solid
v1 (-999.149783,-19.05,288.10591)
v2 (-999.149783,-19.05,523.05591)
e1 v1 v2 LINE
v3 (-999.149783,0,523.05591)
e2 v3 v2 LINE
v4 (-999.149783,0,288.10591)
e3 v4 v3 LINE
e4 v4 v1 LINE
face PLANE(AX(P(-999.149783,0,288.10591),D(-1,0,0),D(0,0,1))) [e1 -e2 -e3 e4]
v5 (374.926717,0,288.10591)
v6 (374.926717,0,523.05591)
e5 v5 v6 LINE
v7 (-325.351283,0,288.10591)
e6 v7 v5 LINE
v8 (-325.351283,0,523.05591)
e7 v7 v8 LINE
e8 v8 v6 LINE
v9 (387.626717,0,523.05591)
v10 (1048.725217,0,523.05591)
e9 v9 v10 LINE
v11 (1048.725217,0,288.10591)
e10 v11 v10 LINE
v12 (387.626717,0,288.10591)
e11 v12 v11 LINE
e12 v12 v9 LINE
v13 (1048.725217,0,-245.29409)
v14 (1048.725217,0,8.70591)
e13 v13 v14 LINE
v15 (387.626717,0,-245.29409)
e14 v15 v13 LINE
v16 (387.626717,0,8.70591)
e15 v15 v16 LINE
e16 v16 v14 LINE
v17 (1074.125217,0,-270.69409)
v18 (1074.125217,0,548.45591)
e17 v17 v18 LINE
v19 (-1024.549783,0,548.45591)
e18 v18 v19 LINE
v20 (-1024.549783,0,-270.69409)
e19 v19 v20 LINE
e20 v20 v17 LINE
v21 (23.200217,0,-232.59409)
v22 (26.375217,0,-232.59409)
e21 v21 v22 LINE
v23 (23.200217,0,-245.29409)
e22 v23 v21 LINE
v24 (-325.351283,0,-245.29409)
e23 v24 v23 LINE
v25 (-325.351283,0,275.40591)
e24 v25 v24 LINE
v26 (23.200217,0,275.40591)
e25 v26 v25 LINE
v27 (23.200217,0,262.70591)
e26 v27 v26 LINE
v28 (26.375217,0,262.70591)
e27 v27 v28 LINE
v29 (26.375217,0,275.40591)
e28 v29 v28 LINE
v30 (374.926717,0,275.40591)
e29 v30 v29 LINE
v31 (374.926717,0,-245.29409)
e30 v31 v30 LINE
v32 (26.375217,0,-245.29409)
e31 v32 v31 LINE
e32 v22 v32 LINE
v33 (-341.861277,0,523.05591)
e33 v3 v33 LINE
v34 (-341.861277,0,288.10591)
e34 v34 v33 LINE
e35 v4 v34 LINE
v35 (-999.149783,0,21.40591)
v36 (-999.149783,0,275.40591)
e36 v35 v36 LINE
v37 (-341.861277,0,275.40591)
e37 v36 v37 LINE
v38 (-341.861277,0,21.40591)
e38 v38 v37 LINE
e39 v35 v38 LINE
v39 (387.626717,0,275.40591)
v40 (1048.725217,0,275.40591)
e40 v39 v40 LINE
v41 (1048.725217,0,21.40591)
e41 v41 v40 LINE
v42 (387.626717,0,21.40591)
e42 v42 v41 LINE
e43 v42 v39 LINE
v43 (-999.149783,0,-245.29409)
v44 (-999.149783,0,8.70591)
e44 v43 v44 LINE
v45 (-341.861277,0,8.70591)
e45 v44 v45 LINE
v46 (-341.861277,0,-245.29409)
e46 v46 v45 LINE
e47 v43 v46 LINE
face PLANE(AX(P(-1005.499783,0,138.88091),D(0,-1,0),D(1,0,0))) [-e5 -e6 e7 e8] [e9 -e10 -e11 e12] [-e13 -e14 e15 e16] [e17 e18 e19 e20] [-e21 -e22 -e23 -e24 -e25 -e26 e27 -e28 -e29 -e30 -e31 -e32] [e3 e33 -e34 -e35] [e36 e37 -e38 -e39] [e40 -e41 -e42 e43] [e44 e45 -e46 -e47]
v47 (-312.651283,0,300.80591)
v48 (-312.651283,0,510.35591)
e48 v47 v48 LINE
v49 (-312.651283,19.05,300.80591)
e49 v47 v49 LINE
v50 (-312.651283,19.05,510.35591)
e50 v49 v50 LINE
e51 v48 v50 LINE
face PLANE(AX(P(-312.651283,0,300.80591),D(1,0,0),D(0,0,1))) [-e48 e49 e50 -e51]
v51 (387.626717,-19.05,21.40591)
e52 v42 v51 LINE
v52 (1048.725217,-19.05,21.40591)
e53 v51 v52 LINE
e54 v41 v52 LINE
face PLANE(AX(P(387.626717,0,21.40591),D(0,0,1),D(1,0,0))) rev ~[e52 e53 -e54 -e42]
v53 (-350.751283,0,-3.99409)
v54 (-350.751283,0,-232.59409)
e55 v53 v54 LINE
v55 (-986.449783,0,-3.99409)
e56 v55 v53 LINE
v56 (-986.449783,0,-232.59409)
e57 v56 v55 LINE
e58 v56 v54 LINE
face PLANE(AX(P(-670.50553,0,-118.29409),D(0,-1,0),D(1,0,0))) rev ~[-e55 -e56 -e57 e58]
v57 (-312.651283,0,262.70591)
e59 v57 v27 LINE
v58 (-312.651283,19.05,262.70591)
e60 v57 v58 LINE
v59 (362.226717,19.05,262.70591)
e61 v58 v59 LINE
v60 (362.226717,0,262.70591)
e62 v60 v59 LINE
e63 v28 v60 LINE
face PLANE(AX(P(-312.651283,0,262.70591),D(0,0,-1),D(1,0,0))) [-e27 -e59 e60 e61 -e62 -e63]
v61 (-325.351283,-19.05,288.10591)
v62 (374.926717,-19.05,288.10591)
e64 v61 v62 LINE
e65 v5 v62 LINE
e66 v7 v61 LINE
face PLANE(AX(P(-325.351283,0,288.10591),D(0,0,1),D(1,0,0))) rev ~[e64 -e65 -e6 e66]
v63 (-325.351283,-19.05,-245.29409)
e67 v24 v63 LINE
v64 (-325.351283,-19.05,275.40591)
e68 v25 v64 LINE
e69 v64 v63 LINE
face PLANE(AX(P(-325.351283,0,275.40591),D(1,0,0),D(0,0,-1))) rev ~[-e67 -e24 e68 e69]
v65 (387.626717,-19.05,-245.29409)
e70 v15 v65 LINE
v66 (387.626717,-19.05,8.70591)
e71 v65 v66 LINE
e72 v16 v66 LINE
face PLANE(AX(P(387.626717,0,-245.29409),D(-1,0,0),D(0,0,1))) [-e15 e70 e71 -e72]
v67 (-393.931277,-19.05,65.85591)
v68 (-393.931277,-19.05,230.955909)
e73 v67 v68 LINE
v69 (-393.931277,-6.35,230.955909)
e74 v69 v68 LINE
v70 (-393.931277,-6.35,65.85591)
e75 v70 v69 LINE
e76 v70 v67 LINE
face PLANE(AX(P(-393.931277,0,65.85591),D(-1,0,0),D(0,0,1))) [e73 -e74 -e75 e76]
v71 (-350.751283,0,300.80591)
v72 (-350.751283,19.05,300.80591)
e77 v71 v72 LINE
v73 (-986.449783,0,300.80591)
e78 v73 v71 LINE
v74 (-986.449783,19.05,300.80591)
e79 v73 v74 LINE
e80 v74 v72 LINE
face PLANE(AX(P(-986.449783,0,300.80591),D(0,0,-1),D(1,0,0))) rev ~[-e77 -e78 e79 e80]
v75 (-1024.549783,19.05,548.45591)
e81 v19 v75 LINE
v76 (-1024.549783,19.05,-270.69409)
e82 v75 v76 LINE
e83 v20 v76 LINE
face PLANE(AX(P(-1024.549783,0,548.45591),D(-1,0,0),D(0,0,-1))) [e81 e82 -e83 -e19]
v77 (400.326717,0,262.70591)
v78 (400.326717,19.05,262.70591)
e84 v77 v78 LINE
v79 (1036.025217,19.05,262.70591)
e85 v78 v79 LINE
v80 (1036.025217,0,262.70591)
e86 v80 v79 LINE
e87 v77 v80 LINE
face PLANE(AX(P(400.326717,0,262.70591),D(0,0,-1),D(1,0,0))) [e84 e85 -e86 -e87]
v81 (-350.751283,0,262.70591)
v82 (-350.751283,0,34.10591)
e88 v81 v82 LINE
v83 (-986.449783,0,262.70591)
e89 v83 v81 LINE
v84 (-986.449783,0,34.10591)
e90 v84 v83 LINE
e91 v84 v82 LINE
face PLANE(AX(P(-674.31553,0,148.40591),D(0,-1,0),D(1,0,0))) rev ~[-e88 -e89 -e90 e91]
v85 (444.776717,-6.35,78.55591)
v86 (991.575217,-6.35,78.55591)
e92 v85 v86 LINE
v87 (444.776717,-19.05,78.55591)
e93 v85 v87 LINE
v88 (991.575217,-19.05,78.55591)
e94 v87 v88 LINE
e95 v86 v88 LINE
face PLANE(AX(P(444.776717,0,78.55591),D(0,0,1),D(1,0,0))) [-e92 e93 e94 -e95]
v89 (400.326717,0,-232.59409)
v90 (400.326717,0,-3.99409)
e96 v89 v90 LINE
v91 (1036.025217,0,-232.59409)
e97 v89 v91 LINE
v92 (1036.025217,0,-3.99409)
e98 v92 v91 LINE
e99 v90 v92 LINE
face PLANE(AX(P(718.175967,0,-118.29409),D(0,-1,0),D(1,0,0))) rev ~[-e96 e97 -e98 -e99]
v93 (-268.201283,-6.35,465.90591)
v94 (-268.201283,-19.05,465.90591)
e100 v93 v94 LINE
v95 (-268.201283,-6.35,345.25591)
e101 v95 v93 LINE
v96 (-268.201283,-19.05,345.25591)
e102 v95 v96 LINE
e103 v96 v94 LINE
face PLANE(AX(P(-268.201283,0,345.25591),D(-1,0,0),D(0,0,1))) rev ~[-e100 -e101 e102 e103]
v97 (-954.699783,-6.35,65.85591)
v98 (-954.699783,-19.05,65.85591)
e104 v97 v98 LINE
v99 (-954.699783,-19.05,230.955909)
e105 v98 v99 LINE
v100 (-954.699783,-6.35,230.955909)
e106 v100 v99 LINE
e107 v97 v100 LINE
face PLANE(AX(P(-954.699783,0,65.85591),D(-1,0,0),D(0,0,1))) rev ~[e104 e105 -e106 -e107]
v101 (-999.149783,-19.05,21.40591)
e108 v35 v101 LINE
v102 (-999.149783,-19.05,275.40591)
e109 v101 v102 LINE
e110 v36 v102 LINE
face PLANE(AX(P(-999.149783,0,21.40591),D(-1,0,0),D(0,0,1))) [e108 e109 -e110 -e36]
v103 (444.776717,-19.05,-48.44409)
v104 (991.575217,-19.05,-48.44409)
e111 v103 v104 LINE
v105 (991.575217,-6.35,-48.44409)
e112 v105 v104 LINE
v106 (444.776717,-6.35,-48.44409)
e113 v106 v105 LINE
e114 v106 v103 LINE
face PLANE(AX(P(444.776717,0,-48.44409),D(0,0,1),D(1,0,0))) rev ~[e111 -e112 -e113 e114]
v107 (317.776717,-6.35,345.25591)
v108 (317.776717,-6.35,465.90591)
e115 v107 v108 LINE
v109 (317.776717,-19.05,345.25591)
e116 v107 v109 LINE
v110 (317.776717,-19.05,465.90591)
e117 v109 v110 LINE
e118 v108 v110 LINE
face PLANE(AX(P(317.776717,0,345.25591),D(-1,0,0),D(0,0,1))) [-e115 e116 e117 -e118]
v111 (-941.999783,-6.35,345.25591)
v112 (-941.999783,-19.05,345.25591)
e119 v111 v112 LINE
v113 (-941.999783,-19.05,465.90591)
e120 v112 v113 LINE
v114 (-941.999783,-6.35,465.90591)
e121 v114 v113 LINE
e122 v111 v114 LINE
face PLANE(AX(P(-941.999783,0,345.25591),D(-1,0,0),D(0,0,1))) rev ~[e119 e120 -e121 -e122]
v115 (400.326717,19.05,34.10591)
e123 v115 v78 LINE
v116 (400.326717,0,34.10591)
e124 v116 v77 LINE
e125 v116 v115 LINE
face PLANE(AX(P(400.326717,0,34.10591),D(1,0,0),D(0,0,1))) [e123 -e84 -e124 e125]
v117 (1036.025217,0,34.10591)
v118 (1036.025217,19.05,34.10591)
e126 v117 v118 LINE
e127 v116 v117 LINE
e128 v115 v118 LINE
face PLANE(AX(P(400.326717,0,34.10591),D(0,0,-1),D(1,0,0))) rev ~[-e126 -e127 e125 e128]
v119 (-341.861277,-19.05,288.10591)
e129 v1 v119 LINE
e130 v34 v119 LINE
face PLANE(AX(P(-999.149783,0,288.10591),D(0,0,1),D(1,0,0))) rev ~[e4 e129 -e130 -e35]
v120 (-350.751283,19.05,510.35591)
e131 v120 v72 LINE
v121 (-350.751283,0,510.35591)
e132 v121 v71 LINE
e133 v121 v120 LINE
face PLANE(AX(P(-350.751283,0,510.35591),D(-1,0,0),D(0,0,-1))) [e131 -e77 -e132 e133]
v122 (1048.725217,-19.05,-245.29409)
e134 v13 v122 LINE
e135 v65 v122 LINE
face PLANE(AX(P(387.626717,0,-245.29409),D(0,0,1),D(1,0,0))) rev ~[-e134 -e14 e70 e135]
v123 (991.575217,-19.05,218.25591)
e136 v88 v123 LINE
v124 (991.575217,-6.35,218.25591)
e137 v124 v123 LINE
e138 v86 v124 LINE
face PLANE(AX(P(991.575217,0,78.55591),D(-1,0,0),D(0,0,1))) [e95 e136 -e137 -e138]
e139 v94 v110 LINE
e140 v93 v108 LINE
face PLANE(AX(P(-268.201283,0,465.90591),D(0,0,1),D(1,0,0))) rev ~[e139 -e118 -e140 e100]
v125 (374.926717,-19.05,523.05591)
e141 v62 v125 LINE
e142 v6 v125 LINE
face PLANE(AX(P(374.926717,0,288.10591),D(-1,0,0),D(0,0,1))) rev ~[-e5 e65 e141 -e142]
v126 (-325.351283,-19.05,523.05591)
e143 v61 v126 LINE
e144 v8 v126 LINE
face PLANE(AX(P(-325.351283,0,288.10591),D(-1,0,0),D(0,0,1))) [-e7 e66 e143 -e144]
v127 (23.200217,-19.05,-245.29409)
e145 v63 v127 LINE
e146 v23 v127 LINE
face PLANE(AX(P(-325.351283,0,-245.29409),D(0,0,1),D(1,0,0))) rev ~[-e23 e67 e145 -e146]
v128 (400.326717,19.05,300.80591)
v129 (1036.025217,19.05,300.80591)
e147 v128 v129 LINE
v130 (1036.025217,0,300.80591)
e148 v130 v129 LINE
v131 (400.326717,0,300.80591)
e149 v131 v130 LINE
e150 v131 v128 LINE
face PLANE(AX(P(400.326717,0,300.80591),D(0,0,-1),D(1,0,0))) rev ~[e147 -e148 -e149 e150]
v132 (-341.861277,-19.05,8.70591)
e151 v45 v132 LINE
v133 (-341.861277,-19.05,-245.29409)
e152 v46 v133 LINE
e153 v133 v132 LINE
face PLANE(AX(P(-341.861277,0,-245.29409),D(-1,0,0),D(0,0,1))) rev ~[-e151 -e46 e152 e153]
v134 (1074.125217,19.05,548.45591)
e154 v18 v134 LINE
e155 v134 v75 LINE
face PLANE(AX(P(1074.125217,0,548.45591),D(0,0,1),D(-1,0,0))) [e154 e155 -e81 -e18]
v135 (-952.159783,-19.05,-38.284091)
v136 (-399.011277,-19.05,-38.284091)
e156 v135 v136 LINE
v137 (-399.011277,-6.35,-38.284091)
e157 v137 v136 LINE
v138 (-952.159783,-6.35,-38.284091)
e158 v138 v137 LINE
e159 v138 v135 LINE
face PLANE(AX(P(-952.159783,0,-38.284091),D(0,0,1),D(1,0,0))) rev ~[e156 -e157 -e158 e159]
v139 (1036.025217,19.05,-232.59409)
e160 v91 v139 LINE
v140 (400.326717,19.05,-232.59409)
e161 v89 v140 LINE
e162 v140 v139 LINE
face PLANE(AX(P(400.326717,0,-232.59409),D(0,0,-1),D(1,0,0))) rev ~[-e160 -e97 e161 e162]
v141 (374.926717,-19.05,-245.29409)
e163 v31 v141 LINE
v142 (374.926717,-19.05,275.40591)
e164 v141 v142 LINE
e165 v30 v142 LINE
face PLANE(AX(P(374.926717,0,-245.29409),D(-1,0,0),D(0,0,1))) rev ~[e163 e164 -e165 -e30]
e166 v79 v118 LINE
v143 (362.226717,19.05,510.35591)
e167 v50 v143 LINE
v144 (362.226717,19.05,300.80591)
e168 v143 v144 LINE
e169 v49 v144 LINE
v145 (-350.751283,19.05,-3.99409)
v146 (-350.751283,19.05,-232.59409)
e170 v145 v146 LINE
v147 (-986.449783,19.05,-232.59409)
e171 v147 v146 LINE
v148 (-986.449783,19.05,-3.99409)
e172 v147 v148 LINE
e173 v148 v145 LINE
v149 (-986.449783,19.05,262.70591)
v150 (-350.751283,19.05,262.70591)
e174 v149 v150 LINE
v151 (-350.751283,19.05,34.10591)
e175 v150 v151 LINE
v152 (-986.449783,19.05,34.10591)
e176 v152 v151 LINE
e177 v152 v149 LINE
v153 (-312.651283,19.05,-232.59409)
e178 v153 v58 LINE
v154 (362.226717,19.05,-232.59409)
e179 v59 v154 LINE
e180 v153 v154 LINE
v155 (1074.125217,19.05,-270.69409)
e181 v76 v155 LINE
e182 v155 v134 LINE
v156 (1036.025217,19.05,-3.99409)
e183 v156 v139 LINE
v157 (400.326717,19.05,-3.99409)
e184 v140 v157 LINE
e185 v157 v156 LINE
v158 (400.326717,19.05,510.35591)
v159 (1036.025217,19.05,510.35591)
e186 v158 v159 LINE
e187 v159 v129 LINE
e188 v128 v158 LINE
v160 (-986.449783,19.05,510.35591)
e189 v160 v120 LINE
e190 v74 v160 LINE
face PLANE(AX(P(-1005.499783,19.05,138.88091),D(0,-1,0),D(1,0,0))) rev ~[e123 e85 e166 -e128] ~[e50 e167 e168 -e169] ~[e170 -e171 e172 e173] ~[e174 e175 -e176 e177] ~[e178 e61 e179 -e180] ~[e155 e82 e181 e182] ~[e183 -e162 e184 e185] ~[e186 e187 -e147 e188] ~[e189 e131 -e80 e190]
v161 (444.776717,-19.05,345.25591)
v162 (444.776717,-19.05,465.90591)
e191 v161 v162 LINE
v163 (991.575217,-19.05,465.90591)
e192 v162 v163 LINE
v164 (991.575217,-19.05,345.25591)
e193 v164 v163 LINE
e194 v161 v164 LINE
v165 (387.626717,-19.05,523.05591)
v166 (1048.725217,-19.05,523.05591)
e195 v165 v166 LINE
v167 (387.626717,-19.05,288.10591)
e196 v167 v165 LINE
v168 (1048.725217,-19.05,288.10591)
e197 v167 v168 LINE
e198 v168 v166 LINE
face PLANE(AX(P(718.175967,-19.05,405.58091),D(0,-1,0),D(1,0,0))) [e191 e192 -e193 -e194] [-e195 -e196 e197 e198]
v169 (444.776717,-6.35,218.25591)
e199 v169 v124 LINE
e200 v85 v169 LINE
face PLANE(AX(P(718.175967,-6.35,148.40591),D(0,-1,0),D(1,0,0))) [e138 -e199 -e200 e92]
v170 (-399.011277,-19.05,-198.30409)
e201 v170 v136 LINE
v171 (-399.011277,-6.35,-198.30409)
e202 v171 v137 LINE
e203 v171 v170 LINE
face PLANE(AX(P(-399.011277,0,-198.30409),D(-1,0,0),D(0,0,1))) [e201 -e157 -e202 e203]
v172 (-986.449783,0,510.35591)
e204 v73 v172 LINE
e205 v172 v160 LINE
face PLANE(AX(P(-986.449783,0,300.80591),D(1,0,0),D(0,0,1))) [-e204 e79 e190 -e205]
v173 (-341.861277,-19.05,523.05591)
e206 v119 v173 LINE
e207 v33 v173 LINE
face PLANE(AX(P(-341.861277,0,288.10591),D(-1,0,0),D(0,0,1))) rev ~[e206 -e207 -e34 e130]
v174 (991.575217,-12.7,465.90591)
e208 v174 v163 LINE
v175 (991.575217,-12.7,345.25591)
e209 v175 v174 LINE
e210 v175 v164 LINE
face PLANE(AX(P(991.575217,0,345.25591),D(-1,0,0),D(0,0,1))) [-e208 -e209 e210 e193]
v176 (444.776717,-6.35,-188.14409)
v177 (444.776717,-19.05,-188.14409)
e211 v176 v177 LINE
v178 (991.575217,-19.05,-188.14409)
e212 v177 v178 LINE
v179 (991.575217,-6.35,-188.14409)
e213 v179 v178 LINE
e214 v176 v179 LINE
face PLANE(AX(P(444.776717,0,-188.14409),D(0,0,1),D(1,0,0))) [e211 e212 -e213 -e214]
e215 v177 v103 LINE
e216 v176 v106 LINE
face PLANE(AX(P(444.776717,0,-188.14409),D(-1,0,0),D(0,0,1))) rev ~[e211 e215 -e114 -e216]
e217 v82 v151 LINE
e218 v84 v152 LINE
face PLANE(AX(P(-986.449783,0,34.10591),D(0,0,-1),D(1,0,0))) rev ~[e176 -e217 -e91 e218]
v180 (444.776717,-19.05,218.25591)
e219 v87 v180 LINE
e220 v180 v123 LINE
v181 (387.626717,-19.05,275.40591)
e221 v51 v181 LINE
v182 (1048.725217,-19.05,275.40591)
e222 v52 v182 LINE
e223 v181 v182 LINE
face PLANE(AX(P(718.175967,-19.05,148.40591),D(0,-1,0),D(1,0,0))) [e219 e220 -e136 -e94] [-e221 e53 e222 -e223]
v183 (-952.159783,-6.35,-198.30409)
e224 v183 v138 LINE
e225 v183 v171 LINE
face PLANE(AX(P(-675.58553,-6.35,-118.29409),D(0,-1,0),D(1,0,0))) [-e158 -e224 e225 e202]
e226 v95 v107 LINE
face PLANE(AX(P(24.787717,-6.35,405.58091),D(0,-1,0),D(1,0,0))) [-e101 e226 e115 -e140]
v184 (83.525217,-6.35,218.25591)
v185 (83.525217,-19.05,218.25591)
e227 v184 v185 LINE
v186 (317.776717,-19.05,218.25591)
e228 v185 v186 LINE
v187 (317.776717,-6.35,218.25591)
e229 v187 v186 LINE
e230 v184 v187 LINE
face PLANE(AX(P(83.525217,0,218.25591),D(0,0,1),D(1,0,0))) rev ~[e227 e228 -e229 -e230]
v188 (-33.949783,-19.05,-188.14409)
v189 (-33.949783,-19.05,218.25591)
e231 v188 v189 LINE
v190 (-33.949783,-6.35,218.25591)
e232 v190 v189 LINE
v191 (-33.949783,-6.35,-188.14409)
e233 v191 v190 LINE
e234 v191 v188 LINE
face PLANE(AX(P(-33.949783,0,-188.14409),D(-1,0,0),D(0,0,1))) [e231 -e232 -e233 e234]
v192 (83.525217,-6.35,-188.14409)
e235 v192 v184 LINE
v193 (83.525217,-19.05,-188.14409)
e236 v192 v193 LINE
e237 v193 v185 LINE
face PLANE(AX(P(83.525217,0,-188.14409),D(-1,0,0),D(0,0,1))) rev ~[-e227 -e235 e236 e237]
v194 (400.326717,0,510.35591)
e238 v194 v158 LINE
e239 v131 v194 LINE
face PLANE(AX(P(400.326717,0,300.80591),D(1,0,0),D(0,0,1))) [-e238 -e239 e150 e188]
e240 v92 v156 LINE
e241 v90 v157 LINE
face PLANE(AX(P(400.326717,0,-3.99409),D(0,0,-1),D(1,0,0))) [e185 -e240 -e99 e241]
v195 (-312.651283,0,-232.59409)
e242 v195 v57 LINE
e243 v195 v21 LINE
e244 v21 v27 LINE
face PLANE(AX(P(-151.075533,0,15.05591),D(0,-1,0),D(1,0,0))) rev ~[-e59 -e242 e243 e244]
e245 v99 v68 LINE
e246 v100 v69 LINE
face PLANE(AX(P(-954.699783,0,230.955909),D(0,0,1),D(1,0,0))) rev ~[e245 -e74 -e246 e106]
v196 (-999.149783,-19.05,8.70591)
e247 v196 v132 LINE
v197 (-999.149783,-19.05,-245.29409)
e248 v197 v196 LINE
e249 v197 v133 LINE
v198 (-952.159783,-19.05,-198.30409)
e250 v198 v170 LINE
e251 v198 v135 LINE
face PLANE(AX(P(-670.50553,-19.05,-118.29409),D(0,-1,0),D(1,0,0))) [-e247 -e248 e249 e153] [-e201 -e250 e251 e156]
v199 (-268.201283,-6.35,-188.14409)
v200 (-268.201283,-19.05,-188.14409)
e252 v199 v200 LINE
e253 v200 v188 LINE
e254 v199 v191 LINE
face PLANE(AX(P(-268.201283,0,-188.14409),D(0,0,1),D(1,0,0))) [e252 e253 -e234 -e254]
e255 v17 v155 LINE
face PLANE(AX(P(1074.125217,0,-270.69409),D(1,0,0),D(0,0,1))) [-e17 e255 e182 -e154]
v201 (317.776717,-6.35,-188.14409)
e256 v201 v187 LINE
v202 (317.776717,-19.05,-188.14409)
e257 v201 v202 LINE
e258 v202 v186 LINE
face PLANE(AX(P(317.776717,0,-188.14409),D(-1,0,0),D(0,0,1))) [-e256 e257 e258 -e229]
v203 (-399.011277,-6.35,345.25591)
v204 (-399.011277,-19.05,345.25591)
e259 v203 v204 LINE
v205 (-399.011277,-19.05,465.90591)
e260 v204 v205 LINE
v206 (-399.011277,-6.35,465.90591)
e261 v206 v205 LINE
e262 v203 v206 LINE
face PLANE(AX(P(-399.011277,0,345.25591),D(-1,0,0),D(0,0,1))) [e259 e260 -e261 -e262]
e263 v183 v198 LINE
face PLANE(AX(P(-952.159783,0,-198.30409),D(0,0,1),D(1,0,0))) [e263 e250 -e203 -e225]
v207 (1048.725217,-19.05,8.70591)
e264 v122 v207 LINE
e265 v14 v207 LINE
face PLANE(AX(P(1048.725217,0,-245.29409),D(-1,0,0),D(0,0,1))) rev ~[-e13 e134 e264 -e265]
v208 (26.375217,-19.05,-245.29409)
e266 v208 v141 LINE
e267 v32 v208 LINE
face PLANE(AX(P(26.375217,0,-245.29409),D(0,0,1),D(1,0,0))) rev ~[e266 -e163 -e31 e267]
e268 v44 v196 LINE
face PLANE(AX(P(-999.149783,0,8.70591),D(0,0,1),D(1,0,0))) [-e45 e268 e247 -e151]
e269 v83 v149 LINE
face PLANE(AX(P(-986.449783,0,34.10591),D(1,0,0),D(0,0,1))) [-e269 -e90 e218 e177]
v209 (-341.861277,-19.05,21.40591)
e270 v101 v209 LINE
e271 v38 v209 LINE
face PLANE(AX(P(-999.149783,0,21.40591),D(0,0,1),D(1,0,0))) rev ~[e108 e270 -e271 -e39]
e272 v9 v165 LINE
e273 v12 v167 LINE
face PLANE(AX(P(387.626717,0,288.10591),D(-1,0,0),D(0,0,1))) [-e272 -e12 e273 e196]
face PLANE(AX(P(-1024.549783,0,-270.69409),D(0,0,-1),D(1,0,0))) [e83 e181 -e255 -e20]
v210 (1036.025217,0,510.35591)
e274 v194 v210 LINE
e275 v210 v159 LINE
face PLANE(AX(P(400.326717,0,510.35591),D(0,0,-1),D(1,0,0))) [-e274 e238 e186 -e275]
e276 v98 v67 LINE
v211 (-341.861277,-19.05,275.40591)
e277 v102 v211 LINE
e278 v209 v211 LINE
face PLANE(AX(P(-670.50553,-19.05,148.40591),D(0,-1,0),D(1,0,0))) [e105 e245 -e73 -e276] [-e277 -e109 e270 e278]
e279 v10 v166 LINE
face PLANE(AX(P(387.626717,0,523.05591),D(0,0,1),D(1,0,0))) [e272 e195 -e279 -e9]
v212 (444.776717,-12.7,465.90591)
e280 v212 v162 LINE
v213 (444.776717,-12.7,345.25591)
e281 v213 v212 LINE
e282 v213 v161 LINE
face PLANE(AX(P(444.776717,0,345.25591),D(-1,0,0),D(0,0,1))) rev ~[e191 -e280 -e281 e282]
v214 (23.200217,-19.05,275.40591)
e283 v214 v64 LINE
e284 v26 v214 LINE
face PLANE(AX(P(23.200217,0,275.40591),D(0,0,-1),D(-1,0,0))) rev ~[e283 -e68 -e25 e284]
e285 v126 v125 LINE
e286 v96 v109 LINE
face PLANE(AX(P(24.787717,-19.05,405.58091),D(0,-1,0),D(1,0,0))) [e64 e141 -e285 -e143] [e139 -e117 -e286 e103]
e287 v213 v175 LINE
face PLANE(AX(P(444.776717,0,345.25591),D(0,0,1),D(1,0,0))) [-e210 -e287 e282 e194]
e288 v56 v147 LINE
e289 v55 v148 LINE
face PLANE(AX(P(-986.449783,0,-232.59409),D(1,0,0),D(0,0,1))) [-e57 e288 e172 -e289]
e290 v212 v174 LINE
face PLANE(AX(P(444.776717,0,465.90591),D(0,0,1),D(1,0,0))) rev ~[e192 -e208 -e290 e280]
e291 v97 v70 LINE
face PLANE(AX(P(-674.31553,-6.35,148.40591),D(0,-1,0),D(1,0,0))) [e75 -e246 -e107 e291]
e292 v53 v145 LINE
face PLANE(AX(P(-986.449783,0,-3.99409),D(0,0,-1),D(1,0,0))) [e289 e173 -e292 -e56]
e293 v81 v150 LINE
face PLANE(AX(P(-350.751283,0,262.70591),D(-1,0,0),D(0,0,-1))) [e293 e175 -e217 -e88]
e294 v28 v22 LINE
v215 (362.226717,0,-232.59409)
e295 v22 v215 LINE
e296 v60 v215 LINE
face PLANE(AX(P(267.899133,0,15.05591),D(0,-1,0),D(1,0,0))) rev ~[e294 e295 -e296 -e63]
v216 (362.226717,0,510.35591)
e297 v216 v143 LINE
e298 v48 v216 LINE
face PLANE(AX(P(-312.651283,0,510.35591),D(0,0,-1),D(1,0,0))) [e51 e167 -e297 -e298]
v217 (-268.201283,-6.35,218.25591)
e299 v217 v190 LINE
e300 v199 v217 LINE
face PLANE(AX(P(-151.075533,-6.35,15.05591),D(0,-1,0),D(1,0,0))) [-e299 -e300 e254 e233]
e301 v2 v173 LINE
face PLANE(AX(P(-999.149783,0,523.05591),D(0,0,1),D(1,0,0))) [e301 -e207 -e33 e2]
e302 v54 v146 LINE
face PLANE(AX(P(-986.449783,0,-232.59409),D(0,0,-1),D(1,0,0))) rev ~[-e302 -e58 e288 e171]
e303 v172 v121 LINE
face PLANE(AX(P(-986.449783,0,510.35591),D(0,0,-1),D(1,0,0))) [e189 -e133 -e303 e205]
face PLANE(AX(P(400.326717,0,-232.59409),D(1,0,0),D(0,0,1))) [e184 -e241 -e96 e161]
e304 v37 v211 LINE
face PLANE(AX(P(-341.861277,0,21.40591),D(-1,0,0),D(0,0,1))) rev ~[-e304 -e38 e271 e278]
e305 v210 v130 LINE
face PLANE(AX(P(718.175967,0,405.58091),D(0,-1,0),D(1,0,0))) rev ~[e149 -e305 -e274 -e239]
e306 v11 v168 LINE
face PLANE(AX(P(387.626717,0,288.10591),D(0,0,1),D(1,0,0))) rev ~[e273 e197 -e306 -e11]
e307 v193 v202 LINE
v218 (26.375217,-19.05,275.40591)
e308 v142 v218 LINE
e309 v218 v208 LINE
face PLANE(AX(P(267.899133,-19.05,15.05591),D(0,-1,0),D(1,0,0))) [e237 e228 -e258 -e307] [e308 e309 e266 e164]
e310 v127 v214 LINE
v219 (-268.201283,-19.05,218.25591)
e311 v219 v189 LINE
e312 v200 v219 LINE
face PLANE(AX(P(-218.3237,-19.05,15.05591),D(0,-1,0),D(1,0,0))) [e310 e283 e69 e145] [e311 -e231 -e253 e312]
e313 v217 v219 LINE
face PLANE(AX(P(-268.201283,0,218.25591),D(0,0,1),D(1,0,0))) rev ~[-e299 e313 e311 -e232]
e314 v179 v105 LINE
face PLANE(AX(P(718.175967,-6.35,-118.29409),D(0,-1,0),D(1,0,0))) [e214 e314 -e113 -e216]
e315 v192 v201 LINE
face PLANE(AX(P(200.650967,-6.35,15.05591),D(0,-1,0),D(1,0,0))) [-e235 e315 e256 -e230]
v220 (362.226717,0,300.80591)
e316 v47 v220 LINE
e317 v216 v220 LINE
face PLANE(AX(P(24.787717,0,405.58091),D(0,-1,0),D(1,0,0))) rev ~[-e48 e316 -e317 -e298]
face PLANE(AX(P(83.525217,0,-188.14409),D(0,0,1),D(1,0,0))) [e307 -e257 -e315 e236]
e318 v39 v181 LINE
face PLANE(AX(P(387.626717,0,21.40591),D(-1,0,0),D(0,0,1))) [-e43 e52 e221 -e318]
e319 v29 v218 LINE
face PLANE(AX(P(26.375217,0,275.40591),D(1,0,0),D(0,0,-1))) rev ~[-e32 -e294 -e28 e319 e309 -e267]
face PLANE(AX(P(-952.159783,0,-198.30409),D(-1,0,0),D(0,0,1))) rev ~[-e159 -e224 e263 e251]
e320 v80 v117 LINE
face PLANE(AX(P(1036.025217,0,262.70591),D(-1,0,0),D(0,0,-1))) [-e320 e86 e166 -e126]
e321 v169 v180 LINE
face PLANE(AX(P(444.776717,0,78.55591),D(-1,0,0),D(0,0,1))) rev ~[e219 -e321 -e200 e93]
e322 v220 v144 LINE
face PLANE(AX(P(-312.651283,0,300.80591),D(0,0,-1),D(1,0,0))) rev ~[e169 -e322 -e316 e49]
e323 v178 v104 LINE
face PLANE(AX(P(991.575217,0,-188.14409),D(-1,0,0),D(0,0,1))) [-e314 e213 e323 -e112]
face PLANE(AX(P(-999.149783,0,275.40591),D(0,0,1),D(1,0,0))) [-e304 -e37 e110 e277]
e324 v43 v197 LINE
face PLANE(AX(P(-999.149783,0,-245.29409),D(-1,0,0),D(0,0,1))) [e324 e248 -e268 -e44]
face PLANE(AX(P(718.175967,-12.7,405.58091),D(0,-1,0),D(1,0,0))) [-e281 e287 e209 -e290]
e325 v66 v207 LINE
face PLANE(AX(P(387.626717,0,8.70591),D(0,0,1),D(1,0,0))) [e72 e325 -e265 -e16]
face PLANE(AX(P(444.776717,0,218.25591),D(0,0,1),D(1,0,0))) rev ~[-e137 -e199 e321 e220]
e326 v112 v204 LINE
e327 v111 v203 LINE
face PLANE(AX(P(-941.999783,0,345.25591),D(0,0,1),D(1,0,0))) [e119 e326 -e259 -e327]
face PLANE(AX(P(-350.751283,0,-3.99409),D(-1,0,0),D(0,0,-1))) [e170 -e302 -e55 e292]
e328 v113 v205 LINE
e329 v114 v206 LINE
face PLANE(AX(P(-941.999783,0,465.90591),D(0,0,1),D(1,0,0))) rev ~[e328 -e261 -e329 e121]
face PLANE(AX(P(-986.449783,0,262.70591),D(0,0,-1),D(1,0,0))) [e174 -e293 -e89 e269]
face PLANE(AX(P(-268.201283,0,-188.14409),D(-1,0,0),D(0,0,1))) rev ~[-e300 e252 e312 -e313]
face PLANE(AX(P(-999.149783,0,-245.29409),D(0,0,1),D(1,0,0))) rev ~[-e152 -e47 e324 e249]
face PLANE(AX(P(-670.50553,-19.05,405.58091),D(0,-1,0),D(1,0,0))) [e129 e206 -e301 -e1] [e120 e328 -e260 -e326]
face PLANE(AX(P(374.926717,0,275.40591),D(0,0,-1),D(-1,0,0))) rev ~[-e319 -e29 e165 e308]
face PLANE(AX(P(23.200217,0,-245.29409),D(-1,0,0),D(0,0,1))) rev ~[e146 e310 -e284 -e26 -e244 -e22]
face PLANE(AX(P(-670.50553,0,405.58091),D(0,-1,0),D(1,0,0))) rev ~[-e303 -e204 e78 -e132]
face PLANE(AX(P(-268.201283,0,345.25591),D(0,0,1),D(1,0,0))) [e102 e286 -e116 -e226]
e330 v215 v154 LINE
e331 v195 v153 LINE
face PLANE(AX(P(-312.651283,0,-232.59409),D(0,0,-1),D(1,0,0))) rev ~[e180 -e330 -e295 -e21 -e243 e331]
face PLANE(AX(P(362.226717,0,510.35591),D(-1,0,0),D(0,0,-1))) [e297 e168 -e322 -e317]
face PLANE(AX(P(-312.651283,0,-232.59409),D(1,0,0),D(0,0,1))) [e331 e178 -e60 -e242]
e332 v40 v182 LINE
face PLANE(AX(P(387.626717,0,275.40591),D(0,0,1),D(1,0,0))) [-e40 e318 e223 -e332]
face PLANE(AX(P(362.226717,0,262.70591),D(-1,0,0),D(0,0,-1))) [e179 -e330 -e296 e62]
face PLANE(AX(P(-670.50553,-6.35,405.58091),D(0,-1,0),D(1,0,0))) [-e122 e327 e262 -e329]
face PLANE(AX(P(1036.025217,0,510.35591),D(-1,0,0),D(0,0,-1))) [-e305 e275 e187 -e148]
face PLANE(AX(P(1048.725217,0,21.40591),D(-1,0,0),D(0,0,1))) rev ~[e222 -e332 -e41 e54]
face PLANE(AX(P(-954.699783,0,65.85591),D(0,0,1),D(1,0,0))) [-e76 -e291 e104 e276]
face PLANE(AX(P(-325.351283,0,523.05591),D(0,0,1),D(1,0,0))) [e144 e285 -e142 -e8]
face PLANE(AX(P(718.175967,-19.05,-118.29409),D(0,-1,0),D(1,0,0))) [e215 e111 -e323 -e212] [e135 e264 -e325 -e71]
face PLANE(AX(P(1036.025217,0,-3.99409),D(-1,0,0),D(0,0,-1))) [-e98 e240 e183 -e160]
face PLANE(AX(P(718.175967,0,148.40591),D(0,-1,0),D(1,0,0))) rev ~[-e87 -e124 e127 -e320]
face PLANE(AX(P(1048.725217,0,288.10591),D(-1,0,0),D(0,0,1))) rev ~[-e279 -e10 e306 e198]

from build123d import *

# Parameters (mm, degrees)
F0_W      = 635.6985
F0_H      = 38.1
F0_W_2    = 674.878
F1_DEPTH  = 19.05
F2_W      = 657.2885064902
F2_H      = 254
F2_W_2    = 553.1485062082
F2_H_2    = 160.0199994359
F3_DEPTH  = 19.05
F2_W_3    = 560.7685060475
F2_H_3    = 165.0999991145
F4_DEPTH  = 19.05
F2_H_4    = 234.95
F2_W_4    = 542.9885064902
F2_H_5    = 120.65
F5_DEPTH  = 19.05
F6_DEPTH  = 6.35
F2_W_5    = 700.278
F2_W_6    = 585.978
F7_DEPTH  = 19.05
F8_DEPTH  = 6.35
F9_DEPTH  = 6.35
F2_W_7    = 335.8515
F2_H_6    = 495.3
F2_W_8    = 234.2515
F2_H_7    = 406.4
F10_DEPTH = 19.05
F11_DEPTH = 6.35
F2_W_9    = 661.0985
F2_W_10   = 546.7985
F2_H_8    = 139.7
F12_DEPTH = 19.05
F13_DEPTH = 12.7
F14_DEPTH = 6.35
F15_DEPTH = 6.35
F16_DEPTH = 6.35


with BuildPart() as f1:
    # F0 (on Front) → F1 (new body)
    with BuildSketch(Plane.XZ):
        Polygon((-986.4497834325, 548.455909781), (-1024.5497834325, 548.455909781), (-1024.5497834325, -270.694090219), (-986.4497834325, -270.694090219), (-986.4497834325, -232.594090219), (-986.4497834325, -3.994090219), (-986.4497834325, 34.105909781), (-986.4497834325, 262.705909781), (-986.4497834325, 300.805909781), (-986.4497834325, 510.355909781), align=None)
        with Locations((-668.6005334325, -251.644090219)):
            Rectangle(F0_W, F0_H)
        with Locations((-668.6005334325, 15.055909781)):
            Rectangle(F0_W, F0_H)
        with Locations((-668.6005334325, 281.755909781)):
            Rectangle(F0_W, F0_H)
        with Locations((-668.6005334325, 529.405909781)):
            Rectangle(F0_W, F0_H)
        Polygon((-312.6512834325, 548.455909781), (-350.7512834325, 548.455909781), (-350.7512834325, 510.355909781), (-350.7512834325, 300.805909781), (-350.7512834325, 262.705909781), (-350.7512834325, 34.105909781), (-350.7512834325, -3.994090219), (-350.7512834325, -232.594090219), (-350.7512834325, -270.694090219), (-312.6512834325, -270.694090219), (-312.6512834325, -232.594090219), (-312.6512834325, 262.705909781), (-312.6512834325, 300.805909781), (-312.6512834325, 510.355909781), align=None)
        with Locations((24.7877165675, 529.405909781)):
            Rectangle(F0_W_2, F0_H)
        with Locations((24.7877165675, 281.755909781)):
            Rectangle(F0_W_2, F0_H)
        with Locations((24.7877165675, -251.644090219)):
            Rectangle(F0_W_2, F0_H)
        Polygon((400.3267165675, 548.455909781), (362.2267165675, 548.455909781), (362.2267165675, 510.355909781), (362.2267165675, 300.805909781), (362.2267165675, 262.705909781), (362.2267165675, -232.594090219), (362.2267165675, -270.694090219), (400.3267165675, -270.694090219), (400.3267165675, -232.594090219), (400.3267165675, -3.994090219), (400.3267165675, 34.105909781), (400.3267165675, 262.705909781), (400.3267165675, 300.805909781), (400.3267165675, 510.355909781), align=None)
        with Locations((718.1759665675, 15.055909781)):
            Rectangle(F0_W, F0_H)
        with Locations((718.1759665675, 281.755909781)):
            Rectangle(F0_W, F0_H)
        with Locations((718.1759665675, 529.405909781)):
            Rectangle(F0_W, F0_H)
        with Locations((718.1759665675, -251.644090219)):
            Rectangle(F0_W, F0_H)
        Polygon((1036.0252165675, -270.694090219), (1074.1252165675, -270.694090219), (1074.1252165675, 548.455909781), (1036.0252165675, 548.455909781), (1036.0252165675, 510.355909781), (1036.0252165675, 300.805909781), (1036.0252165675, 262.705909781), (1036.0252165675, 34.105909781), (1036.0252165675, -3.994090219), (1036.0252165675, -232.594090219), align=None)
    extrude(amount=-F1_DEPTH)

    # F2 (on face) → F3 (join)
    with BuildSketch(Plane.XZ):
        with Locations((-670.5055301874, -118.294090219)):
            Rectangle(F2_W, F2_H)
        with Locations((-675.5855300463, -118.294090219)):
            Rectangle(F2_W_2, F2_H_2, mode=Mode.SUBTRACT)
    extrude(amount=F3_DEPTH)

    # F2 (on face) → F4 (join)
    with BuildSketch(Plane.XZ):
        with Locations((-670.5055301874, 148.405909781)):
            Rectangle(F2_W, F2_H)
        with Locations((-674.315529966, 148.405909781)):
            Rectangle(F2_W_3, F2_H_3, mode=Mode.SUBTRACT)
    extrude(amount=F4_DEPTH)

    # F2 (on face) → F5 (join)
    with BuildSketch(Plane.XZ):
        with Locations((-670.5055301874, 405.580909781)):
            Rectangle(F2_W, F2_H_4)
        with Locations((-670.5055301874, 405.580909781)):
            Rectangle(F2_W_4, F2_H_5, mode=Mode.SUBTRACT)
    extrude(amount=F5_DEPTH)

    # F2 (on face) → F6 (join)
    with BuildSketch(Plane.XZ):
        with Locations((-670.5055301874, 405.580909781)):
            Rectangle(F2_W_4, F2_H_5)
    extrude(amount=F6_DEPTH)

    # F2 (on face) → F7 (join)
    with BuildSketch(Plane.XZ):
        with Locations((24.7877165675, 405.580909781)):
            Rectangle(F2_W_5, F2_H_4)
        with Locations((24.7877165675, 405.580909781)):
            Rectangle(F2_W_6, F2_H_5, mode=Mode.SUBTRACT)
    extrude(amount=F7_DEPTH)

    # F2 (on face) → F8 (join)
    with BuildSketch(Plane.XZ):
        with Locations((24.7877165675, 405.580909781)):
            Rectangle(F2_W_6, F2_H_5)
    extrude(amount=F8_DEPTH)

    # F2 (on face) → F9 (join)
    with BuildSketch(Plane.XZ):
        with Locations((-674.315529966, 148.405909781)):
            Rectangle(F2_W_3, F2_H_3)
        with Locations((-675.5855300463, -118.294090219)):
            Rectangle(F2_W_2, F2_H_2)
    extrude(amount=F9_DEPTH)

    # F2 (on face) → F10 (join)
    with BuildSketch(Plane.XZ):
        Polygon((23.2002165675, 275.405909781), (-325.3512834325, 275.405909781), (-325.3512834325, -245.294090219), (23.2002165675, -245.294090219), (23.2002165675, -232.594090219), (-312.6512834325, -232.594090219), (-312.6512834325, 262.705909781), (23.2002165675, 262.705909781), align=None)
        with Locations((-144.7255334325, 15.055909781)):
            Rectangle(F2_W_7, F2_H_6)
        with Locations((-151.0755334325, 15.055909781)):
            Rectangle(F2_W_8, F2_H_7, mode=Mode.SUBTRACT)
        Polygon((26.3752165675, 275.405909781), (26.3752165675, 262.705909781), (362.2267165675, 262.705909781), (362.2267165675, -232.594090219), (26.3752165675, -232.594090219), (26.3752165675, -245.294090219), (374.9267165675, -245.294090219), (374.9267165675, 275.405909781), align=None)
        with Locations((194.3009665675, 15.055909781)):
            Rectangle(F2_W_7, F2_H_6)
        with Locations((200.6509665675, 15.055909781)):
            Rectangle(F2_W_8, F2_H_7, mode=Mode.SUBTRACT)
    extrude(amount=F10_DEPTH)

    # F2 (on face) → F11 (join)
    with BuildSketch(Plane.XZ):
        with Locations((-151.0755334325, 15.055909781)):
            Rectangle(F2_W_8, F2_H_7)
        with Locations((200.6509665675, 15.055909781)):
            Rectangle(F2_W_8, F2_H_7)
    extrude(amount=F11_DEPTH)

    # F2 (on face) → F12 (join)
    with BuildSketch(Plane.XZ):
        with Locations((718.1759665675, 405.580909781)):
            Rectangle(F2_W_9, F2_H_4)
        with Locations((718.1759665675, 405.580909781)):
            Rectangle(F2_W_10, F2_H_5, mode=Mode.SUBTRACT)
        with Locations((718.1759665675, 148.405909781)):
            Rectangle(F2_W_9, F2_H)
        with Locations((718.1759665675, 148.405909781)):
            Rectangle(F2_W_10, F2_H_8, mode=Mode.SUBTRACT)
        with Locations((718.1759665675, -118.294090219)):
            Rectangle(F2_W_9, F2_H)
        with Locations((718.1759665675, -118.294090219)):
            Rectangle(F2_W_10, F2_H_8, mode=Mode.SUBTRACT)
    extrude(amount=F12_DEPTH)

    # F2 (on face) → F13 (join)
    with BuildSketch(Plane.XZ):
        with Locations((718.1759665675, 405.580909781)):
            Rectangle(F2_W_10, F2_H_5)
    extrude(amount=F13_DEPTH)

    # F14 (cut): a face of the model
    f14_faces = [f1.faces().sort_by_distance(p)[0] for p in [
        (718.1759665675, -12.7, 405.580909781),
    ]]
    extrude(f14_faces, amount=F14_DEPTH, mode=Mode.SUBTRACT)

    # F2 (on face) → F15 (cut)
    with BuildSketch(Plane.XZ):
        with Locations((718.1759665675, 405.580909781)):
            Rectangle(F2_W_10, F2_H_5)
    extrude(amount=-F15_DEPTH, mode=Mode.SUBTRACT)

    # F2 (on face) → F16 (join)
    with BuildSketch(Plane.XZ):
        with Locations((718.1759665675, 148.405909781)):
            Rectangle(F2_W_10, F2_H_8)
        with Locations((718.1759665675, -118.294090219)):
            Rectangle(F2_W_10, F2_H_8)
    extrude(amount=F16_DEPTH)


solid = f1.part
